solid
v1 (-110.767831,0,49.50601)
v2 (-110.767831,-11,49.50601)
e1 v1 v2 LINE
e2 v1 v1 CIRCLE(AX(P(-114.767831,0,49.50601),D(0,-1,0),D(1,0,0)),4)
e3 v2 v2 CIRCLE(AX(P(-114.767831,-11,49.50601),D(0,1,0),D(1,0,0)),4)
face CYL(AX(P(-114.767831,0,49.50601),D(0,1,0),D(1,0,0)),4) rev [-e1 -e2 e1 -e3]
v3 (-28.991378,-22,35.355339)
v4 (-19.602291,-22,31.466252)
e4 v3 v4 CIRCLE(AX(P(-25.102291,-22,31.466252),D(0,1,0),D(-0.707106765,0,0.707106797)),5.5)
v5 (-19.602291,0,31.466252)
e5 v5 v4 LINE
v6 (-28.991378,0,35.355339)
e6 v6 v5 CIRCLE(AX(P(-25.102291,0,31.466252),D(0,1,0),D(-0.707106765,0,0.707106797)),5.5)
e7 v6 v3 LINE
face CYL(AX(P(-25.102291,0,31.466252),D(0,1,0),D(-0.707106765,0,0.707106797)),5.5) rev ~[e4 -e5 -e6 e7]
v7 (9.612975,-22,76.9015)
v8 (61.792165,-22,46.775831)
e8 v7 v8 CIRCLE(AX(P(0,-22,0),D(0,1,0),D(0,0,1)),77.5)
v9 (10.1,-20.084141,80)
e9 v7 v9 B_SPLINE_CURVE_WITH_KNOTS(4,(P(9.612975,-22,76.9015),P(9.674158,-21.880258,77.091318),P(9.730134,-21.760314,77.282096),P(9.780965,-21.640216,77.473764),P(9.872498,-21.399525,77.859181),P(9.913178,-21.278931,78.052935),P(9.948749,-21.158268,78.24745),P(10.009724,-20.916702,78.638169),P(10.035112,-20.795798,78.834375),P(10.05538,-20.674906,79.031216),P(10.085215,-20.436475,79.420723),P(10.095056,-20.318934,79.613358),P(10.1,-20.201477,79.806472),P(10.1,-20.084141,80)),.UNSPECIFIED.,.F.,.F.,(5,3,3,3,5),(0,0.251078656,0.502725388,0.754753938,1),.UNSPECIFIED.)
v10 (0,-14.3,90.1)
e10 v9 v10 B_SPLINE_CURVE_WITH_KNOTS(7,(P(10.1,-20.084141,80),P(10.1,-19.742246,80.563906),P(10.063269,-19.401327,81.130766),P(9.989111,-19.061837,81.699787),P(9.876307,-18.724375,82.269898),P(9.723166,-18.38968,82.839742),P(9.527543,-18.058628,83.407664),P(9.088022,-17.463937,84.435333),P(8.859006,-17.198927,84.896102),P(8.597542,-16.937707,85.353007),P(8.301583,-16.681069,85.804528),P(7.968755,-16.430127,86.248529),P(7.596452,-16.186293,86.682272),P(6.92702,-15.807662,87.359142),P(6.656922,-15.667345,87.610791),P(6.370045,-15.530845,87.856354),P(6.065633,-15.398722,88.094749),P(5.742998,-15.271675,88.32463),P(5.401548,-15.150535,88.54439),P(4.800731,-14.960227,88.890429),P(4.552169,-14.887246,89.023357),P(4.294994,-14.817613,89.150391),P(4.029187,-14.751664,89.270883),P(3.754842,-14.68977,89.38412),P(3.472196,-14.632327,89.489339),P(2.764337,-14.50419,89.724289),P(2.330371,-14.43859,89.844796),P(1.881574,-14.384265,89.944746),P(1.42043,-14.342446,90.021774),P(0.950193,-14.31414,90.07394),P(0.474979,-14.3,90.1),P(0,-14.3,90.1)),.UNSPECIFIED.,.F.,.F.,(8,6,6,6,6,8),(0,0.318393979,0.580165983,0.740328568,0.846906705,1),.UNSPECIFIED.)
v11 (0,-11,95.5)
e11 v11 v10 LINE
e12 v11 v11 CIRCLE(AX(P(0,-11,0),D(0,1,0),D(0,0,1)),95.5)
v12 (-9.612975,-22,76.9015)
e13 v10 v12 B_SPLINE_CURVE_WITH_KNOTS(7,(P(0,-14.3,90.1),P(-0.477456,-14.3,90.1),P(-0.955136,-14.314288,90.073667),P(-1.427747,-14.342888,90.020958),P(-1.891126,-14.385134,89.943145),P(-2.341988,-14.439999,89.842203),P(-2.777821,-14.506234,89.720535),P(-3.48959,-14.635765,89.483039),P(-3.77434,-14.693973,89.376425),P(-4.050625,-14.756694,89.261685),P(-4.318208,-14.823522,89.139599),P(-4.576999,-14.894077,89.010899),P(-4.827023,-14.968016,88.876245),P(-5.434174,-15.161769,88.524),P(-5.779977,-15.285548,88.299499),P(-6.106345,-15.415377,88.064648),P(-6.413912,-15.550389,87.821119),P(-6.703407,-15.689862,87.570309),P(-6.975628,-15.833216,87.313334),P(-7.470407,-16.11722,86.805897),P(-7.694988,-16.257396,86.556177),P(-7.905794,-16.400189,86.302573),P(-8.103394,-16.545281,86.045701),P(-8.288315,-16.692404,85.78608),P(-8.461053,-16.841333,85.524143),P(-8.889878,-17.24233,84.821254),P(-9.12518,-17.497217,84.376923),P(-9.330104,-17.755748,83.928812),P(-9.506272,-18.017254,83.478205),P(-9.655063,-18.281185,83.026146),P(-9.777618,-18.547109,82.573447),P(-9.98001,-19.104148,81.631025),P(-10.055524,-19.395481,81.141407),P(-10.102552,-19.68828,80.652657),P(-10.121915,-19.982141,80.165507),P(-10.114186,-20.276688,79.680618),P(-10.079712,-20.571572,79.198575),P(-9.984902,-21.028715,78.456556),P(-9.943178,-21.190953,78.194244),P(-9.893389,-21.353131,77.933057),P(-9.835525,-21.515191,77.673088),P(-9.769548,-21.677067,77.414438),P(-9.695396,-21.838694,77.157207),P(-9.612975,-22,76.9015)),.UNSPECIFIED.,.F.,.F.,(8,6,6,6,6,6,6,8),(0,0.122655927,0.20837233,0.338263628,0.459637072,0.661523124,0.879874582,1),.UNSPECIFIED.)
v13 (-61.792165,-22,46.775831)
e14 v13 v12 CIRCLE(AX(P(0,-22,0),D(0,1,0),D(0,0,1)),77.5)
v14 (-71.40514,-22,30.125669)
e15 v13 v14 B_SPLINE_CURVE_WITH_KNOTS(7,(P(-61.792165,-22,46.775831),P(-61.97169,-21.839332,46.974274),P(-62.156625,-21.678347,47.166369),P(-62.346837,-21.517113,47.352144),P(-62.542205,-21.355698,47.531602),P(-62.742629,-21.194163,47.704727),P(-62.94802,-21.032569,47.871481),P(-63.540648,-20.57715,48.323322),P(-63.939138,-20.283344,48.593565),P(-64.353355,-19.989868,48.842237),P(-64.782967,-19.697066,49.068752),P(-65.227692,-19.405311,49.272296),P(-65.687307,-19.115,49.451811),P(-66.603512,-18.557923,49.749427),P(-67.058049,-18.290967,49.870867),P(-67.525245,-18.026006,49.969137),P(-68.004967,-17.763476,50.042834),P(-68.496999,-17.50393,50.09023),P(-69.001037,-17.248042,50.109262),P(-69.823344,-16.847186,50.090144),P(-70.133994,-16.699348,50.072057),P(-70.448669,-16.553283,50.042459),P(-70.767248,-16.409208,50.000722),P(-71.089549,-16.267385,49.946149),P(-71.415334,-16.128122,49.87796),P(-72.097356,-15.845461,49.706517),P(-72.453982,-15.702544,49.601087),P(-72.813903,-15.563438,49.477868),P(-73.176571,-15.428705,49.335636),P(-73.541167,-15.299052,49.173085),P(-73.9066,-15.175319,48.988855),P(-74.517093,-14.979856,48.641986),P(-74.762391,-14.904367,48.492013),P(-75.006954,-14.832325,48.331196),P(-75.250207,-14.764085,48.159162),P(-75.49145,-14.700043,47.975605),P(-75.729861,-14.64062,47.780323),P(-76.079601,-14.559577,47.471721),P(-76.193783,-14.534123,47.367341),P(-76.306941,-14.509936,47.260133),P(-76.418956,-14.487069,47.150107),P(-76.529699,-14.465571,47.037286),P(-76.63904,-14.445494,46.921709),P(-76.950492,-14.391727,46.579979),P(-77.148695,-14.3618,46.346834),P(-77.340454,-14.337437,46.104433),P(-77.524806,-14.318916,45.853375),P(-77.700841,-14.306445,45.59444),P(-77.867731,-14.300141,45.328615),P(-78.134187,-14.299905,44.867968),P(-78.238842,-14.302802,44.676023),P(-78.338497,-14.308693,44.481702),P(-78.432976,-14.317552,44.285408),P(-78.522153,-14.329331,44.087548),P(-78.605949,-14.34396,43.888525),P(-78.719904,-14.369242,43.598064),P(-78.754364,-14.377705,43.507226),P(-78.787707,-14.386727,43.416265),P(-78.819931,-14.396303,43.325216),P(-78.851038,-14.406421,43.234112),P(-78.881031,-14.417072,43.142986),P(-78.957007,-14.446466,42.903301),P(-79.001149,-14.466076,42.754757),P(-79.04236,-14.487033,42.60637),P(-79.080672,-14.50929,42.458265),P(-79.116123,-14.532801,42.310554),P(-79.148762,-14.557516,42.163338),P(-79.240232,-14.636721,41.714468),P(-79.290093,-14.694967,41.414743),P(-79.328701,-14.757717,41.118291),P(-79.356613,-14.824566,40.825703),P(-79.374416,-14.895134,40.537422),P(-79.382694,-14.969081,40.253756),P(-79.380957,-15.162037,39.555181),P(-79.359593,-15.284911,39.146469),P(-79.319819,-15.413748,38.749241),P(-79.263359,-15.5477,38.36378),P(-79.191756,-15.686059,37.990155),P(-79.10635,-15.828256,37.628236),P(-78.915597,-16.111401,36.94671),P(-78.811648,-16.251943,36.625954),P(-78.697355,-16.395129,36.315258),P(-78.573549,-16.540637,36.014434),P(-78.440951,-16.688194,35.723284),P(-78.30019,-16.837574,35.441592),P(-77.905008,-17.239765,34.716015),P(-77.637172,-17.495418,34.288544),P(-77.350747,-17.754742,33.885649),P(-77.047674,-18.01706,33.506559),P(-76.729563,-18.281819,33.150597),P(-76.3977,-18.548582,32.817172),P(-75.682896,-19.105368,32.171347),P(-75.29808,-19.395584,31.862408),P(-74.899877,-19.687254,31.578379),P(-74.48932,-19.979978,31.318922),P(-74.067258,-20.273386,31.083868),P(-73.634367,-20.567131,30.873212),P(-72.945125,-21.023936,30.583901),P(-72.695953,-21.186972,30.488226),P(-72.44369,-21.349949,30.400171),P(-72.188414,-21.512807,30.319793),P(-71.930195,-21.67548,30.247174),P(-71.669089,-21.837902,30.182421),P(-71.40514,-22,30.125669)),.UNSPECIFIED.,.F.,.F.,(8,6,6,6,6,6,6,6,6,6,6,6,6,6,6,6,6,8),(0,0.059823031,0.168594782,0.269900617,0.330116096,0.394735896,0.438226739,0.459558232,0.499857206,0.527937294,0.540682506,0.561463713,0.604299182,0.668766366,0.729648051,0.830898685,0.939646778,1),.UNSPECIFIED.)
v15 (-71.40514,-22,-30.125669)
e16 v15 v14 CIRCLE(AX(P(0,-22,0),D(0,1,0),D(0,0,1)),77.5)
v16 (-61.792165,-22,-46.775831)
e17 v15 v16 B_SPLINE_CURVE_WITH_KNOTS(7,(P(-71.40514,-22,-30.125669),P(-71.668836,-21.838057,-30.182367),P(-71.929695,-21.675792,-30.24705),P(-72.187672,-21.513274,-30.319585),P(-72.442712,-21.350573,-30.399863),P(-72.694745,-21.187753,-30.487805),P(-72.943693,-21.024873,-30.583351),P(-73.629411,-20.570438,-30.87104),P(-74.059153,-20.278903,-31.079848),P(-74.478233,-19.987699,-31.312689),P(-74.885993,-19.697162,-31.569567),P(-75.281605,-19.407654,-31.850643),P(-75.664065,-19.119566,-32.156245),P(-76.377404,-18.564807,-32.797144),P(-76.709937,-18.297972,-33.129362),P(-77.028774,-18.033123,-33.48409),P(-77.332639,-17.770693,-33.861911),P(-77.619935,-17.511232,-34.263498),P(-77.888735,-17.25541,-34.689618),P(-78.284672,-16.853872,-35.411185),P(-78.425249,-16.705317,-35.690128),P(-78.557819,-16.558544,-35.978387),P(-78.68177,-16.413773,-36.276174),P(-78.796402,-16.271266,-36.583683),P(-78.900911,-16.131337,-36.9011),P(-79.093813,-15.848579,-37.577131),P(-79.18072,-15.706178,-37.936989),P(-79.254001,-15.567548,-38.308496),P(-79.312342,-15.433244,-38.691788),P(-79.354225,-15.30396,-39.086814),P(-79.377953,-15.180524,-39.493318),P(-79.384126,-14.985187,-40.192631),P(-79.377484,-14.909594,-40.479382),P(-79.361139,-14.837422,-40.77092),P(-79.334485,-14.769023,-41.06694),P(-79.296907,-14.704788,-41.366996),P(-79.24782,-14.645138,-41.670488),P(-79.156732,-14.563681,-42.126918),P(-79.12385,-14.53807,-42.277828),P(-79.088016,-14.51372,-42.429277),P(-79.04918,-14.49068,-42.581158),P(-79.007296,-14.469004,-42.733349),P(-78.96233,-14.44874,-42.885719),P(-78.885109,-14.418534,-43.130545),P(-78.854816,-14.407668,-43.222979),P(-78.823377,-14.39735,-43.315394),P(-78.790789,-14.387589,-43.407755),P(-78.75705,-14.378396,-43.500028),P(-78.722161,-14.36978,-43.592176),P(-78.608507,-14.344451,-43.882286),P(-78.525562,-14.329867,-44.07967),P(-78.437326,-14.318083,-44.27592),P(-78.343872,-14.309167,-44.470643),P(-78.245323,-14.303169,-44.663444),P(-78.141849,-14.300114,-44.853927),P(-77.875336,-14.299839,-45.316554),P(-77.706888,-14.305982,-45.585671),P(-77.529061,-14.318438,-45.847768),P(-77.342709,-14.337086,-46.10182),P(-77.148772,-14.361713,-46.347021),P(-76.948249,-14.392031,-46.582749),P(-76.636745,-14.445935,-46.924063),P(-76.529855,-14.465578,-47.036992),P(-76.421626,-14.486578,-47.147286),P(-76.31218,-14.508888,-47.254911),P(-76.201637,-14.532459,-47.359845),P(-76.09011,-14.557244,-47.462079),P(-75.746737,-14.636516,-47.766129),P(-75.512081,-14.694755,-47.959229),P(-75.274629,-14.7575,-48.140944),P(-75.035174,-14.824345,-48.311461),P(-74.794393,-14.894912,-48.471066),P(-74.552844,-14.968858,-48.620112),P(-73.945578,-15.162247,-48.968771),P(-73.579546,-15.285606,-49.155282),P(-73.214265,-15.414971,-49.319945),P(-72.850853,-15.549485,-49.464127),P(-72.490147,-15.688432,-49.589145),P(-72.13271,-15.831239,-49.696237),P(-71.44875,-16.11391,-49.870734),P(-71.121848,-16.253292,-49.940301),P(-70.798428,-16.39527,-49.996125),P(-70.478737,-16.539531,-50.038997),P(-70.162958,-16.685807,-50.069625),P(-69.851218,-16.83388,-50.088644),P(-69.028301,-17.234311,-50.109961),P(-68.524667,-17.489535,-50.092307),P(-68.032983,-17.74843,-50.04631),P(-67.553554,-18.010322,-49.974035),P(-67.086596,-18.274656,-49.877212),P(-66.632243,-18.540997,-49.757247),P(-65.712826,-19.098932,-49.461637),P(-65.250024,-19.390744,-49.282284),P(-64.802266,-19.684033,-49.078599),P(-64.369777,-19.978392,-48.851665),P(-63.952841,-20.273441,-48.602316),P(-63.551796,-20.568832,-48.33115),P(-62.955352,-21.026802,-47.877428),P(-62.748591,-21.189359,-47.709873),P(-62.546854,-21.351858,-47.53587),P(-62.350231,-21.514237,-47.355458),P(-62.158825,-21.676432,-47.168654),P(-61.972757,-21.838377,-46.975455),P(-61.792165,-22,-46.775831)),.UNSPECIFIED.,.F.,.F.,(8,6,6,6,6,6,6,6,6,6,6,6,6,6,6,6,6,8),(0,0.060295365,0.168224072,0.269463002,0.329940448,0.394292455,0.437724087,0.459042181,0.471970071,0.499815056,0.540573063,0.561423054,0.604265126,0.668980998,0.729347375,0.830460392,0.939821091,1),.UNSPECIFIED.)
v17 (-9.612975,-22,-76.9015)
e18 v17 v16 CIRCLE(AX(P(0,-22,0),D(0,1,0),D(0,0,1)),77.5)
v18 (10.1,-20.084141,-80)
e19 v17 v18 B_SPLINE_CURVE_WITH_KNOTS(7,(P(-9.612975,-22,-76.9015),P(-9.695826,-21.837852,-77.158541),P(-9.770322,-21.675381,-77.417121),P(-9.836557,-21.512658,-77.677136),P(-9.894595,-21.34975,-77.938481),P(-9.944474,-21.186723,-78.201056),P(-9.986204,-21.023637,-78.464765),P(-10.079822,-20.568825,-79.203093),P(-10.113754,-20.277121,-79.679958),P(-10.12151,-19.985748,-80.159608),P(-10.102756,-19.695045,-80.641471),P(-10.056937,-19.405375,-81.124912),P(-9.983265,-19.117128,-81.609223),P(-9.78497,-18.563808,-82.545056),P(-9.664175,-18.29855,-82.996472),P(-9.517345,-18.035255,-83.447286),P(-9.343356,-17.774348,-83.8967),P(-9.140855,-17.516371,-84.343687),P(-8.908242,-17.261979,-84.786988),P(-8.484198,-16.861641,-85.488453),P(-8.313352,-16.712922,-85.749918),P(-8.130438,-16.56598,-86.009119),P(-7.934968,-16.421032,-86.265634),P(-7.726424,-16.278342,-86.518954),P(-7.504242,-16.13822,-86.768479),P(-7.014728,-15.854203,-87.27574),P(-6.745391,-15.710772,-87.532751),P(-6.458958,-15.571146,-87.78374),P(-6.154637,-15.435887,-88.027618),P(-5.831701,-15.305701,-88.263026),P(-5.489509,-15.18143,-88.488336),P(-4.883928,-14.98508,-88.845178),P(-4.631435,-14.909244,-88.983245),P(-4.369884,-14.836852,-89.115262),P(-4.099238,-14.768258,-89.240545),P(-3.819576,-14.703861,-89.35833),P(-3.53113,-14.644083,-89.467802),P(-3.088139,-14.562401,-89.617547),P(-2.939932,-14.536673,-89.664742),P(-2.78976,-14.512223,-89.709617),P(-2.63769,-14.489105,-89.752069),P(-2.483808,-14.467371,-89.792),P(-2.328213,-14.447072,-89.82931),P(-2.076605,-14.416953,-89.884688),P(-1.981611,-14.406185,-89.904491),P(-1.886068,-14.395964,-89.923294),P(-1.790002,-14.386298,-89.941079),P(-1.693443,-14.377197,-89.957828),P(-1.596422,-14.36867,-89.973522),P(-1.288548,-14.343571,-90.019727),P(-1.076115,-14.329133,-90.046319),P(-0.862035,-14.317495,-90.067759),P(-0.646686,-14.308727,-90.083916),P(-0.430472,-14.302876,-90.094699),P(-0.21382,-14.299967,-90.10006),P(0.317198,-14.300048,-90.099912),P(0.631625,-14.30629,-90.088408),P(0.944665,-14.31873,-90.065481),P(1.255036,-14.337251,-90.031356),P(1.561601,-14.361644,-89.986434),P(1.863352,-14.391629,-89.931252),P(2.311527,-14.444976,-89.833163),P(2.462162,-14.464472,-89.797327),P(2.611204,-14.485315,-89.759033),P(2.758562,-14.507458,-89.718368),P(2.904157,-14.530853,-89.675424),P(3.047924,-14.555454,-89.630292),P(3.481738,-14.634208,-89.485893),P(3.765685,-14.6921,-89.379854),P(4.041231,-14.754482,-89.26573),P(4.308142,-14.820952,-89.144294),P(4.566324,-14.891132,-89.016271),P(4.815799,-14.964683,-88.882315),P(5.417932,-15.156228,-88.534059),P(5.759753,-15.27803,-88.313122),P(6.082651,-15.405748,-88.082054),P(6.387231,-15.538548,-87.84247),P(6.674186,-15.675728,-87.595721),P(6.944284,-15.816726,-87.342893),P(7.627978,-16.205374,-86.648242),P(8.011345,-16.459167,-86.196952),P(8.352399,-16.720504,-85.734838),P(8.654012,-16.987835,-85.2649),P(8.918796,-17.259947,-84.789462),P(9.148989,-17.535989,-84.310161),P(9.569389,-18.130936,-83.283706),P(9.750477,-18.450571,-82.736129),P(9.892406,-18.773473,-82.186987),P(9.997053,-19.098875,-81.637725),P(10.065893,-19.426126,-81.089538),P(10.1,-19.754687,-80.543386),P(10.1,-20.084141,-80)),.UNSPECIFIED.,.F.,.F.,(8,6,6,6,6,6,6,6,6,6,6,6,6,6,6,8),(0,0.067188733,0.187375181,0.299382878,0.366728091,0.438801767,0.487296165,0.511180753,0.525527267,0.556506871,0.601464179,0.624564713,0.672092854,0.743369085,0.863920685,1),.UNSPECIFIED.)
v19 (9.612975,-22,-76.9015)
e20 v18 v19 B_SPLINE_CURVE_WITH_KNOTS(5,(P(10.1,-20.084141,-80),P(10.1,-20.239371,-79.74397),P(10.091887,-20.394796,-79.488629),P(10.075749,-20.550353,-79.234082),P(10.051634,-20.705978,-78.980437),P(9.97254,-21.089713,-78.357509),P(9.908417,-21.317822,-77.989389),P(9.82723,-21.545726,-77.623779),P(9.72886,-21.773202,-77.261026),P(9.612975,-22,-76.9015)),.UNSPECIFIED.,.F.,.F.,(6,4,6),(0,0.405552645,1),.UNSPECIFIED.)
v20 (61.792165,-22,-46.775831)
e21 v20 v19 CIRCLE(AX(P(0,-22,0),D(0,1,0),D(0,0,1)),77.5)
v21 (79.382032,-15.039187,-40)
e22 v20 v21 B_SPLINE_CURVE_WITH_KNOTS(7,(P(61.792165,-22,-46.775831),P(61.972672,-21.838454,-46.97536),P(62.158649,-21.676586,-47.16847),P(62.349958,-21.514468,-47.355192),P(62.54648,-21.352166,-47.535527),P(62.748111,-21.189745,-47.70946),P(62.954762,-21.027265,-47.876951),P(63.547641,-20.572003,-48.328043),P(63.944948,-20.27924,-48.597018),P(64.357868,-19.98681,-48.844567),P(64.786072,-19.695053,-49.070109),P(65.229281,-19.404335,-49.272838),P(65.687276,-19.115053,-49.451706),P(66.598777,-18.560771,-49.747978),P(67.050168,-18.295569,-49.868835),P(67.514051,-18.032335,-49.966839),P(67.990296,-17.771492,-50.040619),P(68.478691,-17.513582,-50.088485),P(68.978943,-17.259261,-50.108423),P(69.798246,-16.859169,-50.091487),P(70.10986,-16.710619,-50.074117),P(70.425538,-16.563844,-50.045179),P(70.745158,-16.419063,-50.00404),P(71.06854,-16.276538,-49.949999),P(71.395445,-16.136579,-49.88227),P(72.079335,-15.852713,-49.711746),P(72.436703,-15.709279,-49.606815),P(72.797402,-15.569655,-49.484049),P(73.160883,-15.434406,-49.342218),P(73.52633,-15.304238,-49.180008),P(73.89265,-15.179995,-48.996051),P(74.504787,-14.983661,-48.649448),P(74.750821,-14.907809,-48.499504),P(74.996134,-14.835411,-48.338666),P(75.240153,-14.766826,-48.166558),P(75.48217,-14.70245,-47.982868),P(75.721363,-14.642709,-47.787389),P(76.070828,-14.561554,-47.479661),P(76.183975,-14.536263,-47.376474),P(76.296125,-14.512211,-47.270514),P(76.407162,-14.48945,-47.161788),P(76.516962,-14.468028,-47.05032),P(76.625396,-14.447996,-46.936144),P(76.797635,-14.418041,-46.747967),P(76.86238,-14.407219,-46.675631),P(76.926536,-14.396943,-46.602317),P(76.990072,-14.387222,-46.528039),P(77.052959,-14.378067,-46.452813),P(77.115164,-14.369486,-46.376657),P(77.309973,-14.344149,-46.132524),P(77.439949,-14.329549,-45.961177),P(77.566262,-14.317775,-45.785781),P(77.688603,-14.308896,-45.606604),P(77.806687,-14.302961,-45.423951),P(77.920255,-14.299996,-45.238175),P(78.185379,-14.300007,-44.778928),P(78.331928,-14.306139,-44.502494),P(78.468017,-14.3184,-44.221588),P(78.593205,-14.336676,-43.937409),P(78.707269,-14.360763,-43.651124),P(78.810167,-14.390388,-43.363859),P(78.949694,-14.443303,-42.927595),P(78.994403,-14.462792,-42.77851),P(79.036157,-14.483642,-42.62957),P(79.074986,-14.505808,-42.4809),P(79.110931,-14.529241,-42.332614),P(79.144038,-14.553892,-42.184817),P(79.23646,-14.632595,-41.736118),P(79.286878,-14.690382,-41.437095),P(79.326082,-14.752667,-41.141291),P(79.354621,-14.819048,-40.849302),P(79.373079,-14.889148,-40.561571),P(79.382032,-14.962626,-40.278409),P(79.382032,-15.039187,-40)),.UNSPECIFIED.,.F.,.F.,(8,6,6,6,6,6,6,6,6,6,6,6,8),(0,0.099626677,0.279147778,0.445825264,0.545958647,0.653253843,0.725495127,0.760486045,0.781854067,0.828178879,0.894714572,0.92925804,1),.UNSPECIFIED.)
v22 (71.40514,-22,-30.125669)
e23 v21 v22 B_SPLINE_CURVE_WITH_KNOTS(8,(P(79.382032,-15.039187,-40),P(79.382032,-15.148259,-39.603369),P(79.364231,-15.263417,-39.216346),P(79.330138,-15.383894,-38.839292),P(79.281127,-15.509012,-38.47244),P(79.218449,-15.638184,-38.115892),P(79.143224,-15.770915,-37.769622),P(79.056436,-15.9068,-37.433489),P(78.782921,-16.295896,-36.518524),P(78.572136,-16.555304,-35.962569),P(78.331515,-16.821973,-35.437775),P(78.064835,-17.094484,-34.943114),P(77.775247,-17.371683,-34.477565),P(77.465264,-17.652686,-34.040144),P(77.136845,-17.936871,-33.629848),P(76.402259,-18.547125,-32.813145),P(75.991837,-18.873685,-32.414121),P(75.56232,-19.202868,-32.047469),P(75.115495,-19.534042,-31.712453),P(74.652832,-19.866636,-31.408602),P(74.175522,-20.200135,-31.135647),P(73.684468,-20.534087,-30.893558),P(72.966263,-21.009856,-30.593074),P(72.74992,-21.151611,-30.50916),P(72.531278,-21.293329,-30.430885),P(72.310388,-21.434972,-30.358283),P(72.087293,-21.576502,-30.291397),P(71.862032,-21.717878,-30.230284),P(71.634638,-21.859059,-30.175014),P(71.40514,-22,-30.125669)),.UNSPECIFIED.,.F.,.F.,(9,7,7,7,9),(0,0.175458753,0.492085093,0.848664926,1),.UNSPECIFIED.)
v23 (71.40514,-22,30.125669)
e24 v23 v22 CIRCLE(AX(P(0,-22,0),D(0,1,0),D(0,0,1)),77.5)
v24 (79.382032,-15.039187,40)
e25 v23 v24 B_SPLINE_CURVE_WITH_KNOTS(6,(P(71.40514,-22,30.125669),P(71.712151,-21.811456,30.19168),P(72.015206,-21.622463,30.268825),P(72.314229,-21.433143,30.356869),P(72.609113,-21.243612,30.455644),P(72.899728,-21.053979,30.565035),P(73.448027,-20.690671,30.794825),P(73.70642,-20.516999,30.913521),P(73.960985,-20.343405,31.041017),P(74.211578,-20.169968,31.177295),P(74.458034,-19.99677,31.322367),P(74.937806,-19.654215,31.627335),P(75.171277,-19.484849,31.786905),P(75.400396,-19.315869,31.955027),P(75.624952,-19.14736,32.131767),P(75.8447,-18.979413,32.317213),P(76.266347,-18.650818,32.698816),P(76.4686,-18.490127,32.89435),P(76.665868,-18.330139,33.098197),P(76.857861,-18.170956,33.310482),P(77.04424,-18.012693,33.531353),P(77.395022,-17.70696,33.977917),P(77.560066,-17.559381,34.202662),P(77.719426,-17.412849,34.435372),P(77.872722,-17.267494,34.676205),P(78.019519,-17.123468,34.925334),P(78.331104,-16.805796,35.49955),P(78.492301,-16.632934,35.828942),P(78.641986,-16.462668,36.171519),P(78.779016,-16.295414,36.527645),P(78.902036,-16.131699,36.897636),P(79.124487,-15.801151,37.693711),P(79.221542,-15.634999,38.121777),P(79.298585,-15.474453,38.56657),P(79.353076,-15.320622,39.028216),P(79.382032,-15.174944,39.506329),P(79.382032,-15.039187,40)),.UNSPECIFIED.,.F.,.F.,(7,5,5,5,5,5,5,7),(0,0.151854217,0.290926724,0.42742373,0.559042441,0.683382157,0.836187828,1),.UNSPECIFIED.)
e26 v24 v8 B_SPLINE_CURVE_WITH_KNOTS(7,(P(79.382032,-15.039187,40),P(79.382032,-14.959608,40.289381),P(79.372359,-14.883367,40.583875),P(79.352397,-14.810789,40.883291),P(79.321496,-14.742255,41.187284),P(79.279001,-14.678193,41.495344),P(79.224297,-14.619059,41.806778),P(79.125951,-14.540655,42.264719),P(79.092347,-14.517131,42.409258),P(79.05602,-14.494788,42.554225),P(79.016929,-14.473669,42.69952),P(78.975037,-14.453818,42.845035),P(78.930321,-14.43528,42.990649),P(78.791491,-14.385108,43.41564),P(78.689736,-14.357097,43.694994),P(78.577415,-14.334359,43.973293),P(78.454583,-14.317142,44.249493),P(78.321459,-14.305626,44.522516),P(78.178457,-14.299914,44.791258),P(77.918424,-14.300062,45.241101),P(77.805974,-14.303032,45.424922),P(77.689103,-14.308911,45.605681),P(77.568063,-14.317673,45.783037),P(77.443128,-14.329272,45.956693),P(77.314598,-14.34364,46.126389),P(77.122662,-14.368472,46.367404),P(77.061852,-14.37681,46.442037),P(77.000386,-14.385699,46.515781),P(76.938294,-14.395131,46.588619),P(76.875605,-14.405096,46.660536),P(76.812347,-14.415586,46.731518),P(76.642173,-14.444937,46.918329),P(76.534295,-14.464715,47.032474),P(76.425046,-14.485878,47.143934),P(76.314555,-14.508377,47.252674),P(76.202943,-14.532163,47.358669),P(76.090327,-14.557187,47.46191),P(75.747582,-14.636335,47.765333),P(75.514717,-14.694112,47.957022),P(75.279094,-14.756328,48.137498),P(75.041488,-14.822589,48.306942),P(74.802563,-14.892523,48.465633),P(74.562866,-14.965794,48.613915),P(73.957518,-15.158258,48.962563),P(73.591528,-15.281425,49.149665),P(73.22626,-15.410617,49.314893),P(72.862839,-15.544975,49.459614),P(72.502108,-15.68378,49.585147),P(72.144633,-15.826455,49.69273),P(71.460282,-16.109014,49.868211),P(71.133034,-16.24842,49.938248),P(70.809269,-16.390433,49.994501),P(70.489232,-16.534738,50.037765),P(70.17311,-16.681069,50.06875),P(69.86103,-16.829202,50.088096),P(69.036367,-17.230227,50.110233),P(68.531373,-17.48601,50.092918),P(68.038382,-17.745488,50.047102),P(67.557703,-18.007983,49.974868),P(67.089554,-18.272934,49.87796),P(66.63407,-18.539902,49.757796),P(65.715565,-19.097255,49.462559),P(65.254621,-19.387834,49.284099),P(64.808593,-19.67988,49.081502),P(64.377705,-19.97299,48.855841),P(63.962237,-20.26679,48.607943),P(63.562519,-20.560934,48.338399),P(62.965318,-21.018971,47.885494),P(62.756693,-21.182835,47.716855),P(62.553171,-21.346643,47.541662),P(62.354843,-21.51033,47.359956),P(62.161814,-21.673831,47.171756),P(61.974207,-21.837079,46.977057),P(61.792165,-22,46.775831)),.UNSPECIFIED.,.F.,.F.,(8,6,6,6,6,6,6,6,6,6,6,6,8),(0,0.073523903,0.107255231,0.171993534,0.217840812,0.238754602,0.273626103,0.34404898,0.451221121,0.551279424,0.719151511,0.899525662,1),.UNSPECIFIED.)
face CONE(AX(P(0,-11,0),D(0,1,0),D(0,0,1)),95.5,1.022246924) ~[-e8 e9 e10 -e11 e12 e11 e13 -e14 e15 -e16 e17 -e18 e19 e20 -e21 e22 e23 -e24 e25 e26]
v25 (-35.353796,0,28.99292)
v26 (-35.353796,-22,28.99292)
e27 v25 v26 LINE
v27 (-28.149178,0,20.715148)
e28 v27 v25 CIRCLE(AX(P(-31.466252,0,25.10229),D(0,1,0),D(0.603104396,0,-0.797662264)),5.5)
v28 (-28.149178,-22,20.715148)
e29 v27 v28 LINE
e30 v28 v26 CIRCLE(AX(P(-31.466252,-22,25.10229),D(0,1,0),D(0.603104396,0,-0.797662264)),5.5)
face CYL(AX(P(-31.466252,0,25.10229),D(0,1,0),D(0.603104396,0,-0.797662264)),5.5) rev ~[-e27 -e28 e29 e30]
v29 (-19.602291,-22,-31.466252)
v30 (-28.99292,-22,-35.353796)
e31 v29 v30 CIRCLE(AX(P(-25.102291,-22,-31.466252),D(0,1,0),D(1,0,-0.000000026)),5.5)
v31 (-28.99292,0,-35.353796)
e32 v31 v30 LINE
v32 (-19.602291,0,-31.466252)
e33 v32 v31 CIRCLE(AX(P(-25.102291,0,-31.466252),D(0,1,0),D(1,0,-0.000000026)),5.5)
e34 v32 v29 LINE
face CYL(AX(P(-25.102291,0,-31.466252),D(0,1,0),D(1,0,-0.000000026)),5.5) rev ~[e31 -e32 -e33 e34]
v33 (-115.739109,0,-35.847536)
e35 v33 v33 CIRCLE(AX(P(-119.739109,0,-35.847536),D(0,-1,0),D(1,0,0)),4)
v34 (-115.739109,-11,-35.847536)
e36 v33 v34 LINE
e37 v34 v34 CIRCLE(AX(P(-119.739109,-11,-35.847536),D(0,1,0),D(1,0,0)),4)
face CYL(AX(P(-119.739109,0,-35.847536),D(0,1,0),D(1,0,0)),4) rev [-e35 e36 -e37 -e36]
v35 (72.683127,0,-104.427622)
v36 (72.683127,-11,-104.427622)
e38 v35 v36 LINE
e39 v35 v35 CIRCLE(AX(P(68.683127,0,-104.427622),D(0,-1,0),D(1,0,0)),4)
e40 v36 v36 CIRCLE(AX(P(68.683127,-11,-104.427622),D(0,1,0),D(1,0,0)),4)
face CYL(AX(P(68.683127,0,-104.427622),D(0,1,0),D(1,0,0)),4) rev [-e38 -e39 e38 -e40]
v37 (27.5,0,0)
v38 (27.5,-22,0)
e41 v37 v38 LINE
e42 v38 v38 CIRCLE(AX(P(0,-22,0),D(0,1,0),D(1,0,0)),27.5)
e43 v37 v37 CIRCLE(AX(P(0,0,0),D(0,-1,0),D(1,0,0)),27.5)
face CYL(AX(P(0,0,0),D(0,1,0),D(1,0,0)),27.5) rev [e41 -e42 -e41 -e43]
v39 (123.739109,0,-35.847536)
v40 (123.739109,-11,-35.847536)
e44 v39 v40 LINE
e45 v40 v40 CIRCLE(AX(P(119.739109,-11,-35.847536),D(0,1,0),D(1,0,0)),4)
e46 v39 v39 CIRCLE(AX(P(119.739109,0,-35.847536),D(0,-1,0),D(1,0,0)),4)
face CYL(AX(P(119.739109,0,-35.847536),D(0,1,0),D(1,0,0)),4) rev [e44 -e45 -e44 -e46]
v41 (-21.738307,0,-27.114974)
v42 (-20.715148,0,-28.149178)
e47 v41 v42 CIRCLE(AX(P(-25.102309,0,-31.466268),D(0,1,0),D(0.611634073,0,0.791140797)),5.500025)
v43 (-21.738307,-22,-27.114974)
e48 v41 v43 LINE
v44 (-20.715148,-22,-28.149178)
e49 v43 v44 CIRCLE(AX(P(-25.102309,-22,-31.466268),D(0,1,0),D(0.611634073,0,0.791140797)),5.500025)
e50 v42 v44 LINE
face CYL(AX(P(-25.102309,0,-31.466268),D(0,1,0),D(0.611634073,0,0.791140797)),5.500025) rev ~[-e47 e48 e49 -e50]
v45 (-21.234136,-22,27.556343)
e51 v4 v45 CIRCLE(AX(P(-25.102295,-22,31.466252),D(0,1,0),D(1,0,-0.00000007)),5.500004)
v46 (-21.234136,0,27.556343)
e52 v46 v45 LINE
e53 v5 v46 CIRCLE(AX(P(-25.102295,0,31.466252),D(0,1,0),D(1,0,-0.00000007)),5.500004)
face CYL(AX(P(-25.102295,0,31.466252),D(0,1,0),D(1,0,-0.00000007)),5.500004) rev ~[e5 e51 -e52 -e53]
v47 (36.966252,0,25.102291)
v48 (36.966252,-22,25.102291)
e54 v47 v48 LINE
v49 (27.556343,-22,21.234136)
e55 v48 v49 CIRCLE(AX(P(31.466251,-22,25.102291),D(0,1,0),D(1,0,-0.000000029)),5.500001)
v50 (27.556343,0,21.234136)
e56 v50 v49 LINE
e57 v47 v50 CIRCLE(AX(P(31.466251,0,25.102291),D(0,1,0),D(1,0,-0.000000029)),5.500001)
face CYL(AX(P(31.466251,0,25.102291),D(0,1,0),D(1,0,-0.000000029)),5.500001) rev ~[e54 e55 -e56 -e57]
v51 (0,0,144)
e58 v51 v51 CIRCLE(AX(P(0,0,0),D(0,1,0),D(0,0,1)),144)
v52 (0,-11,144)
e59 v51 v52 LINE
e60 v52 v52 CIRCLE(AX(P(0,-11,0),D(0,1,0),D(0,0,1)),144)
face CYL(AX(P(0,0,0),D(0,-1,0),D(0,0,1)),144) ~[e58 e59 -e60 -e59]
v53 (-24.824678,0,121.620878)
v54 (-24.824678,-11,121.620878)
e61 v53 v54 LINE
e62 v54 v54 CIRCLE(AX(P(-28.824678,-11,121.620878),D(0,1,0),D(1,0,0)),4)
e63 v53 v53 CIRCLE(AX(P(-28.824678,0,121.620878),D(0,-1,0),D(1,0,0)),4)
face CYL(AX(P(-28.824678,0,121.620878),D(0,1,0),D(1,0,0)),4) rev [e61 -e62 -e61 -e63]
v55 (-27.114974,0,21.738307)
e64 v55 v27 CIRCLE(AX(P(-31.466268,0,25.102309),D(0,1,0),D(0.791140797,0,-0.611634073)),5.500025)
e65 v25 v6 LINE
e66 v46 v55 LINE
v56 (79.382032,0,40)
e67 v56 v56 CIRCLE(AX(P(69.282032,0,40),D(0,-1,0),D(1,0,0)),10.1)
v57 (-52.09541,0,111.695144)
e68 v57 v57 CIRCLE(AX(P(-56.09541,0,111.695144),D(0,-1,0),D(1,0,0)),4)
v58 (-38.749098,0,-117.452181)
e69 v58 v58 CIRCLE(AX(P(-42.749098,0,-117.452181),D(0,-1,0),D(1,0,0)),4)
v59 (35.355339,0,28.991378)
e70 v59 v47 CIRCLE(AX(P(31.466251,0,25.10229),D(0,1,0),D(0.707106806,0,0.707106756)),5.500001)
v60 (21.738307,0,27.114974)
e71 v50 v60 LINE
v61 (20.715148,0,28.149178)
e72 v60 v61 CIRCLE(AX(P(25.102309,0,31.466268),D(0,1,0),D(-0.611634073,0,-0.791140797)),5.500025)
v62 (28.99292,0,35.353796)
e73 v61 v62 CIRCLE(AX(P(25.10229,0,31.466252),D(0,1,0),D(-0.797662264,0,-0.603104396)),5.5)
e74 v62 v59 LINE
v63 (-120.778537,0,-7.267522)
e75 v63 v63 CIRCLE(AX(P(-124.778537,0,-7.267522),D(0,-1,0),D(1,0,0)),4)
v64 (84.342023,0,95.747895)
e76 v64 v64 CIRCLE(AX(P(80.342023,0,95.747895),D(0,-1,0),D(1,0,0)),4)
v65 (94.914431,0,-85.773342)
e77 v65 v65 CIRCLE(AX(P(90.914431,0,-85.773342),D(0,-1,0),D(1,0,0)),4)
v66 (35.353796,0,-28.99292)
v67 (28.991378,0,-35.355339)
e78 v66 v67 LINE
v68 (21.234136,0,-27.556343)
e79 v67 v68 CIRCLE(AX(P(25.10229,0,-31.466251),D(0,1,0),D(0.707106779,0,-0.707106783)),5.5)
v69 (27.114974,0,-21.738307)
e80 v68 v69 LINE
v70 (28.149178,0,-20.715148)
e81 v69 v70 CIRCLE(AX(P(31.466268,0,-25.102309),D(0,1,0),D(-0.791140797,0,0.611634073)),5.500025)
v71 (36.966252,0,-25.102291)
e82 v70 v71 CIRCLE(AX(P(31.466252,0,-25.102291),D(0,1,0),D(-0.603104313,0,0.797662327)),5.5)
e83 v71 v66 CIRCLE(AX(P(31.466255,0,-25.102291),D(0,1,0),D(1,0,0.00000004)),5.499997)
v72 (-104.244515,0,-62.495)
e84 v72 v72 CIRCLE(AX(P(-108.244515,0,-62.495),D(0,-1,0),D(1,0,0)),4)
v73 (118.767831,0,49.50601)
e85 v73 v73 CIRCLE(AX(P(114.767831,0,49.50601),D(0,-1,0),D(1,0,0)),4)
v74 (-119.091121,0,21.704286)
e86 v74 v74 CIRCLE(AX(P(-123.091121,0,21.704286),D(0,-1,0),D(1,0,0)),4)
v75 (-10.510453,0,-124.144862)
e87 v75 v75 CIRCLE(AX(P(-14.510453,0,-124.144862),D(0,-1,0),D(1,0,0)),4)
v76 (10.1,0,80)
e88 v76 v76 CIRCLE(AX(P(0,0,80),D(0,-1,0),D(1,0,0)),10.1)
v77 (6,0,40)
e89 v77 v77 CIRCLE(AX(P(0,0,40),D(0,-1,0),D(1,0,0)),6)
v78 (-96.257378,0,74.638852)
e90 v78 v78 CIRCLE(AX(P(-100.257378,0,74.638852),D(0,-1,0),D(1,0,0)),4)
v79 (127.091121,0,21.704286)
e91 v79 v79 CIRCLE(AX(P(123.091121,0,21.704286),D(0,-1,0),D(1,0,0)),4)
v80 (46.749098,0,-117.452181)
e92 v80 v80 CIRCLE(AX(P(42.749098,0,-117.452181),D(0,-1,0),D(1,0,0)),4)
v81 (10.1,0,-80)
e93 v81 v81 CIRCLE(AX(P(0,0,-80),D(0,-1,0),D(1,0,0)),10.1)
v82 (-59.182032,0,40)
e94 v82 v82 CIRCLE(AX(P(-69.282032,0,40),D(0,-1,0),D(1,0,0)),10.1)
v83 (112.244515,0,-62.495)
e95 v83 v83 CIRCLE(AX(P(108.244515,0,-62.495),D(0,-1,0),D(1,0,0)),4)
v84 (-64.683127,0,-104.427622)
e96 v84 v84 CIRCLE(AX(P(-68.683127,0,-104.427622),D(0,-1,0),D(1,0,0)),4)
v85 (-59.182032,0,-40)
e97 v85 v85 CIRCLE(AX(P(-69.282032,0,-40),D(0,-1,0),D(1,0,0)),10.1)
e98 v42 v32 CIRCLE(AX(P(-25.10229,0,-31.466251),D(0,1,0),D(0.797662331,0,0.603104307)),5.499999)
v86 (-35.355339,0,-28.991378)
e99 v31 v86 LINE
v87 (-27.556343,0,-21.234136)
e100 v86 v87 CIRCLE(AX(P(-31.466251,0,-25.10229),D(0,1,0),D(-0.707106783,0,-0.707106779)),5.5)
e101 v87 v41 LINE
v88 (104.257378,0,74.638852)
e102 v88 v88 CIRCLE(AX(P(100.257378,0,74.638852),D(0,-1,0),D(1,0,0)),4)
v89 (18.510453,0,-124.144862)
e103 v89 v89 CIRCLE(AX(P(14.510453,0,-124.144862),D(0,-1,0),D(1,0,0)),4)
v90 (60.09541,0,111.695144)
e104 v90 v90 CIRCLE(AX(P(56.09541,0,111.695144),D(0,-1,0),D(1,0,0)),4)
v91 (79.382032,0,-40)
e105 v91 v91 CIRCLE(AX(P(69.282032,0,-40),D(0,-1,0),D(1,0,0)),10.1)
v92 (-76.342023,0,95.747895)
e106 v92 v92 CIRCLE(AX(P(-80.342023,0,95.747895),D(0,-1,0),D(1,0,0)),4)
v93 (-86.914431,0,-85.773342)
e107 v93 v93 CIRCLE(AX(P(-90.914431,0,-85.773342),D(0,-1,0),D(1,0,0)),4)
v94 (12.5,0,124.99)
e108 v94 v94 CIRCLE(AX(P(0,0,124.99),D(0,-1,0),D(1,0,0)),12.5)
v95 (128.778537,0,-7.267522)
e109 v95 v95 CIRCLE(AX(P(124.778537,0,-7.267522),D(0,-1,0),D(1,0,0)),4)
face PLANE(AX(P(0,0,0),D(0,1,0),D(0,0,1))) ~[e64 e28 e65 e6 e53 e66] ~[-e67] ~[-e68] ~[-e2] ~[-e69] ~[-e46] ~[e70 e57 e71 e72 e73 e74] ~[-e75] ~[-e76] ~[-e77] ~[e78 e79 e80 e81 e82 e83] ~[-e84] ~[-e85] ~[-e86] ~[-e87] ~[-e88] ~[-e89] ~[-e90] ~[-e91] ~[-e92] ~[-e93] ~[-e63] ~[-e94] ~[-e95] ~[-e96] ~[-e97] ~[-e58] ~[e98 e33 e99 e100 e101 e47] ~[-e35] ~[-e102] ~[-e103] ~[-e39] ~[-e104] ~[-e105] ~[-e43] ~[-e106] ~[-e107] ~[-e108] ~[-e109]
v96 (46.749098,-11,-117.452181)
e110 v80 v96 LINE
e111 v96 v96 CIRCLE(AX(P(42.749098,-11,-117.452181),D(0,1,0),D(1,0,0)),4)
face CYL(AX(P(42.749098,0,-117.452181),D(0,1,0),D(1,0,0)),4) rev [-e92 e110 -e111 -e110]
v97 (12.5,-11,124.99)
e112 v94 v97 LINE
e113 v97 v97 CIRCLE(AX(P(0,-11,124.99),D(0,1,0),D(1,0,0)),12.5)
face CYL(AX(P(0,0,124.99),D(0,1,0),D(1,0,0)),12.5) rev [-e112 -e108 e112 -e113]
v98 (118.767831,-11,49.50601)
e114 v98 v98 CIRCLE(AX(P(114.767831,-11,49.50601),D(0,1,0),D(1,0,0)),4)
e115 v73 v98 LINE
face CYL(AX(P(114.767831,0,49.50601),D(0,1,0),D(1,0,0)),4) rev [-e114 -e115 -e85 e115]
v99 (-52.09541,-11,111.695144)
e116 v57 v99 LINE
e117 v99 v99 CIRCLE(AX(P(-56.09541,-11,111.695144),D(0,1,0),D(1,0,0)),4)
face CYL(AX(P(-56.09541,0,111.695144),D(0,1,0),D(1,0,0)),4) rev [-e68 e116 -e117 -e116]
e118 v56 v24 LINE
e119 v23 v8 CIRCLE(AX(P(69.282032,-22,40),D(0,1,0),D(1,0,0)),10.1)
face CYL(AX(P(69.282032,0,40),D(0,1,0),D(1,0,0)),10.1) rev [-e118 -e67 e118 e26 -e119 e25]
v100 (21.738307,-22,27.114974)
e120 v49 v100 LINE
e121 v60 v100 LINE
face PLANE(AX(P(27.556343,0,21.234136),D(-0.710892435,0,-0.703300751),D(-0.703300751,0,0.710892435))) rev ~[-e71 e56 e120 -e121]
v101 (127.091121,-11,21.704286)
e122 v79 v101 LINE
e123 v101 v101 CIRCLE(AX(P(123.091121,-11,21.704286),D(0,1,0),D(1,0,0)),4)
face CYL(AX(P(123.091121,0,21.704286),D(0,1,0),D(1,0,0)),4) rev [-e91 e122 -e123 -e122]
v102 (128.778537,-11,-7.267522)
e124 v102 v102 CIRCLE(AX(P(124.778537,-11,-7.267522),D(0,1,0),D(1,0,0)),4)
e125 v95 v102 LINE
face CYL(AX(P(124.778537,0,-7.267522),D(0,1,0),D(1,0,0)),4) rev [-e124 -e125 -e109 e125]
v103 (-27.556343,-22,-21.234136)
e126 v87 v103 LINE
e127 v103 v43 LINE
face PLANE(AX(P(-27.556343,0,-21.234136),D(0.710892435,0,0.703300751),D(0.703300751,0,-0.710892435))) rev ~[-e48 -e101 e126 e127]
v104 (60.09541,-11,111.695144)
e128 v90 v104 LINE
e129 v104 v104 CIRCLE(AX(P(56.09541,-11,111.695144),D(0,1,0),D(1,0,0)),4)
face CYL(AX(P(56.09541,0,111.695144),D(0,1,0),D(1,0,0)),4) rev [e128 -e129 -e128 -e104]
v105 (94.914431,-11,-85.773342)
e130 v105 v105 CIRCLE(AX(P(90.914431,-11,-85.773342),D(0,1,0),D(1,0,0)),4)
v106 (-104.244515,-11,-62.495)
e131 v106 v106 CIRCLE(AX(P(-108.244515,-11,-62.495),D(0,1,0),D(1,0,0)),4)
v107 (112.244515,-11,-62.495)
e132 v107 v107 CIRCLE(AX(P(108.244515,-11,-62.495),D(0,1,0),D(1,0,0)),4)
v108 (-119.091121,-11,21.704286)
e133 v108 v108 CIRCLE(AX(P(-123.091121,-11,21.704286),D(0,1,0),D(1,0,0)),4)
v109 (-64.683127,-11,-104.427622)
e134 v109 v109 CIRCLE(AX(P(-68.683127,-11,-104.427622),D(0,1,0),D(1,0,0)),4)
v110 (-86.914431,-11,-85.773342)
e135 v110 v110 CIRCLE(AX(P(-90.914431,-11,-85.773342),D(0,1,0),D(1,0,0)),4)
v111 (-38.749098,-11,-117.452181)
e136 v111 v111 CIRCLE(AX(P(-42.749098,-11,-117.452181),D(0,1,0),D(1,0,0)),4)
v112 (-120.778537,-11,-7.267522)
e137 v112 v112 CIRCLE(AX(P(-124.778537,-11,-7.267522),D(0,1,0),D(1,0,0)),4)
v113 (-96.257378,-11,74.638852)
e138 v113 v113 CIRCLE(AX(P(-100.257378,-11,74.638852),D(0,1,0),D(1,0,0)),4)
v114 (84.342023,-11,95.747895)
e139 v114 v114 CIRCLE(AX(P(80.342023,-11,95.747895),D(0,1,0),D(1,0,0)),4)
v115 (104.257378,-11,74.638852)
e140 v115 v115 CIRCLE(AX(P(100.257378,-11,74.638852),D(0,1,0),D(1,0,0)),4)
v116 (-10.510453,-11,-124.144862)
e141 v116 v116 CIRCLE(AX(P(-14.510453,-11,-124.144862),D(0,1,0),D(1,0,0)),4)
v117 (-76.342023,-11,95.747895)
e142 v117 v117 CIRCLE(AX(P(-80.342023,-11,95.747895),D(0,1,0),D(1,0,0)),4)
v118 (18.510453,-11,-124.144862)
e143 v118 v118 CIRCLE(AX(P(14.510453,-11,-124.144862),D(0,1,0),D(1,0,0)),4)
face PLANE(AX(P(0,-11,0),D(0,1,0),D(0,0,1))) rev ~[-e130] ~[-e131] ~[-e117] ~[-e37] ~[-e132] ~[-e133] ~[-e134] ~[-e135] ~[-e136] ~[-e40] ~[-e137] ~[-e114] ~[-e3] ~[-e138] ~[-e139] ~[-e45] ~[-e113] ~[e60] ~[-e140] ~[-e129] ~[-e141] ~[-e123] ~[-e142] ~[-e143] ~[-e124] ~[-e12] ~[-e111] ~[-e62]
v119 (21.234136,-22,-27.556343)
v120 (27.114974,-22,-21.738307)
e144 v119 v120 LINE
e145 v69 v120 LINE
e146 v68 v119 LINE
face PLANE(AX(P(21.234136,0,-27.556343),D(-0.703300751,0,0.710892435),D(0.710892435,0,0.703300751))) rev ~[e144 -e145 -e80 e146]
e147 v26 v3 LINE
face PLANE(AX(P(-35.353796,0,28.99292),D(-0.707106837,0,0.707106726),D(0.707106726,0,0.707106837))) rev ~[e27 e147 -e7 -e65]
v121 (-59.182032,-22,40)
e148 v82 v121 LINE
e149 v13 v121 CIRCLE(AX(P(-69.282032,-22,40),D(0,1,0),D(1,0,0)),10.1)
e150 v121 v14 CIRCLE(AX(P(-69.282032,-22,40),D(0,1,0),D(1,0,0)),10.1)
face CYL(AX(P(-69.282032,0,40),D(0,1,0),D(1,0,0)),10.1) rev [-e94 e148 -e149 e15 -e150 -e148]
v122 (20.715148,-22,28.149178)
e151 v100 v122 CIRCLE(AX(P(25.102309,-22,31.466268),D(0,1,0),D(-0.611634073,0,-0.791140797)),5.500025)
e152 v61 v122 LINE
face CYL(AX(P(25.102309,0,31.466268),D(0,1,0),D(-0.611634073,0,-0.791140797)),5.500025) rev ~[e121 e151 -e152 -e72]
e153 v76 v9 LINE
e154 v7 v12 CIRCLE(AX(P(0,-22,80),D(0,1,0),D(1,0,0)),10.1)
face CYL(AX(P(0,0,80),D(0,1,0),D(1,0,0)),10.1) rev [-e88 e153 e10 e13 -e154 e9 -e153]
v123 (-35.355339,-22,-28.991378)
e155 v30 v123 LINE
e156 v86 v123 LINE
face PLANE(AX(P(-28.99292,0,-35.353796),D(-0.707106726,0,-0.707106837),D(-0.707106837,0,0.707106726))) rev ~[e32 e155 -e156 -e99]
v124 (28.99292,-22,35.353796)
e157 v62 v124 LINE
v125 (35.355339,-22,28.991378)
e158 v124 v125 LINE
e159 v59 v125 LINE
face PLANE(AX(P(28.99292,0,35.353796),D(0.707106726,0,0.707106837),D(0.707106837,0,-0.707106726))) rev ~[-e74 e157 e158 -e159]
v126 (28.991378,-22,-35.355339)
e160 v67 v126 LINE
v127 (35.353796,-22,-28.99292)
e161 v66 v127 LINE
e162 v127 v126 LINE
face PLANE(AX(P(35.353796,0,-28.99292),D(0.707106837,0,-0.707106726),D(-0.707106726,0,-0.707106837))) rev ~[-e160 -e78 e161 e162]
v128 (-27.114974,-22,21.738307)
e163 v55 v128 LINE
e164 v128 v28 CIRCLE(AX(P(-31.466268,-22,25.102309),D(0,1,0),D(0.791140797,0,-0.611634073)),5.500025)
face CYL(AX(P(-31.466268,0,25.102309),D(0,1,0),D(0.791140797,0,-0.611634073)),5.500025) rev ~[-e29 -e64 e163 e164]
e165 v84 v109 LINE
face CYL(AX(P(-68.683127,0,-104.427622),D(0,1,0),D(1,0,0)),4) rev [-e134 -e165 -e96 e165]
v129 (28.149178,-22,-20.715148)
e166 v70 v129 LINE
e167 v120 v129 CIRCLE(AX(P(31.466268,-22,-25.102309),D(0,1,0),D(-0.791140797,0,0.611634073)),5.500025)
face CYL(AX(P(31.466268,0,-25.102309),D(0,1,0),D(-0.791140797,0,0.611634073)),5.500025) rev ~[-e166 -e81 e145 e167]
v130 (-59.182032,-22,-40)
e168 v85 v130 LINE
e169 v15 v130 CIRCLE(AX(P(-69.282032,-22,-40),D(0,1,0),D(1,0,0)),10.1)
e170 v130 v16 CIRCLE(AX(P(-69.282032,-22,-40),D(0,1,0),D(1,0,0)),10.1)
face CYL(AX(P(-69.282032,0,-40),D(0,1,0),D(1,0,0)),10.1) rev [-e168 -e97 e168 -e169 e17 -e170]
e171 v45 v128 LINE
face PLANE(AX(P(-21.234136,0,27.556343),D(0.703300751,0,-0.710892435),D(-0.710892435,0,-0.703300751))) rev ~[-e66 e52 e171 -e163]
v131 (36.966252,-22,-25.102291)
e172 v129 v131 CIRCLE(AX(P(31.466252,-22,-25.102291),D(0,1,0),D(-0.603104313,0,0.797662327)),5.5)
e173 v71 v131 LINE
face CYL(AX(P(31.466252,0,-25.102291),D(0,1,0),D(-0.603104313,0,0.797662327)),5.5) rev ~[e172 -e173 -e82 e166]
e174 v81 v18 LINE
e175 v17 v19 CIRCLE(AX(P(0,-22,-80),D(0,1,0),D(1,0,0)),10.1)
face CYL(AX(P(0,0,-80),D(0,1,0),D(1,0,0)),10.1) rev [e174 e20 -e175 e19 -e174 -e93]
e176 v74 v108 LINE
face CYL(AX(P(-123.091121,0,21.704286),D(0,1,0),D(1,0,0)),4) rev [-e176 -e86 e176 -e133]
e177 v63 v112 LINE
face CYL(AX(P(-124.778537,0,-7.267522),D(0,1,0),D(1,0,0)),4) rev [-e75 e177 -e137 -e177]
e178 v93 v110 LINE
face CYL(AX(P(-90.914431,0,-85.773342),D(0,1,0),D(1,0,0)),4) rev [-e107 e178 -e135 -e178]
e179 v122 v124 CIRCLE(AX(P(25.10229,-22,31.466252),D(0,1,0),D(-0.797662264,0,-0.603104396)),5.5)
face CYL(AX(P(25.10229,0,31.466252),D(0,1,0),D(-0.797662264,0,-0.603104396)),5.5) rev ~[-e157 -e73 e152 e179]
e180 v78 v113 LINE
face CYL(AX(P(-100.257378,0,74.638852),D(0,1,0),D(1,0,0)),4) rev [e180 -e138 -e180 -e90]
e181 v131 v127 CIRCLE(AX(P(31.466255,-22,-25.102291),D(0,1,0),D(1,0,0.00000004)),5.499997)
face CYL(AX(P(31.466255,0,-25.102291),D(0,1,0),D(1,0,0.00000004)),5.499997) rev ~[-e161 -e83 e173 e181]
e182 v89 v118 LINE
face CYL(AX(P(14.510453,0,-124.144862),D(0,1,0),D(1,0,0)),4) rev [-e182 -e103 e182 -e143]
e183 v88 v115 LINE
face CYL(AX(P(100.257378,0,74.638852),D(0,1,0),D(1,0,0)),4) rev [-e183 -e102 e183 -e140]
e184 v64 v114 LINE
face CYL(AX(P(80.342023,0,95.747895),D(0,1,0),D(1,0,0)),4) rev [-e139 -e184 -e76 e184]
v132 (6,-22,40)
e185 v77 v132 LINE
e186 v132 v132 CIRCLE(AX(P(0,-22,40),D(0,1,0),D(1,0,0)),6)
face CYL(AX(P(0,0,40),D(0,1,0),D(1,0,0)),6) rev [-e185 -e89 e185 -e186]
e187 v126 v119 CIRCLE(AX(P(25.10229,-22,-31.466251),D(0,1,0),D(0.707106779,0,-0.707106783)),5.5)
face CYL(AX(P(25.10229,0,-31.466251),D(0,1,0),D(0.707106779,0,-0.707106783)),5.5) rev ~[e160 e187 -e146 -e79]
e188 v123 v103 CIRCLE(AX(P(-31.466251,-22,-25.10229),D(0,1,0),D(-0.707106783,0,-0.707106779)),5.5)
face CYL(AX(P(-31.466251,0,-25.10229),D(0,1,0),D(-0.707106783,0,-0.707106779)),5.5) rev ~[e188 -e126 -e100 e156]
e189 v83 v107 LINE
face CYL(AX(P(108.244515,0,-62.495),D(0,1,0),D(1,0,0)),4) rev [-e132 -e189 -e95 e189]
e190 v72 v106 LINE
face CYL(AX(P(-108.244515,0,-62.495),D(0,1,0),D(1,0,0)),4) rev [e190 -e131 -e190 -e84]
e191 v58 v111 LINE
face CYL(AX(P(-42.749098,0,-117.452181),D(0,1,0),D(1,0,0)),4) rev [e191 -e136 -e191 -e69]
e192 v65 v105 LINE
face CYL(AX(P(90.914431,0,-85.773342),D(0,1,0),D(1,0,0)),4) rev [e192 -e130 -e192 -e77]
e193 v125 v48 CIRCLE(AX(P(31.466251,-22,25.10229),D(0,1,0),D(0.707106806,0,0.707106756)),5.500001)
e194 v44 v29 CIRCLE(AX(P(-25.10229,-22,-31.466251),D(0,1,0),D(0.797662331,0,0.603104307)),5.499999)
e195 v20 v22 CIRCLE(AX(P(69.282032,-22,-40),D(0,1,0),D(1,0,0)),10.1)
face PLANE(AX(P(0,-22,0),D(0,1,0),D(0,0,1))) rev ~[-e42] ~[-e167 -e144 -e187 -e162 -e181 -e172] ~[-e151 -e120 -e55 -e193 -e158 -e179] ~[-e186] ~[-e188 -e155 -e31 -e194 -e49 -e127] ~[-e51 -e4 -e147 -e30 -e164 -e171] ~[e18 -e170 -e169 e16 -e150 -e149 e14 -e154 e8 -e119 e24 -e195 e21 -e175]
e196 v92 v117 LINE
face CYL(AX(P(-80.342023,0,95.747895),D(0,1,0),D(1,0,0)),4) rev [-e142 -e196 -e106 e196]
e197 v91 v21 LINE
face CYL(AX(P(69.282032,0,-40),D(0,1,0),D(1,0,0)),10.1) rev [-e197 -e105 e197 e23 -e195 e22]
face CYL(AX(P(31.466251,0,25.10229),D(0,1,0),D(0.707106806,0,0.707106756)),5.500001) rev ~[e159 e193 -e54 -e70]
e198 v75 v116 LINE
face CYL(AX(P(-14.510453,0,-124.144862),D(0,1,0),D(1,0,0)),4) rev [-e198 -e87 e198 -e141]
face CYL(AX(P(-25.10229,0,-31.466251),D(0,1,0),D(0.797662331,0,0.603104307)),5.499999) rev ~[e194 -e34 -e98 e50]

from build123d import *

# Parameters (mm, degrees)
F0_R     = 144
F0_R_2   = 4
F0_R_3   = 10.1
F0_R_4   = 27.5
F0_R_5   = 6
F0_R_6   = 12.5
F3_DEPTH = 25


with BuildPart() as f2:
    # F1 (on Right) → F2 (revolve)
    with BuildSketch(Plane.YZ):
        Polygon((-22, 0), (0, 0), (0, 144), (-11, 144), (-11, 95.5), (-22, 77.5), align=None)
    revolve(axis=Axis((0, -11, 0), (0, 1, 0)))

    # F0 (on Front) → F3 (intersect)
    with BuildSketch(Plane.XZ):
        Circle(F0_R)
        with Locations((-90.914431, -85.773342)):
            Circle(F0_R_2, mode=Mode.SUBTRACT)
        with Locations((-42.749098, -117.452181)):
            Circle(F0_R_2, mode=Mode.SUBTRACT)
        with Locations((-14.510453, -124.144862)):
            Circle(F0_R_2, mode=Mode.SUBTRACT)
        with Locations((-68.683127, -104.427622)):
            Circle(F0_R_2, mode=Mode.SUBTRACT)
        with Locations((-108.244515, -62.495)):
            Circle(F0_R_2, mode=Mode.SUBTRACT)
        with Locations((-119.739109, -35.847536)):
            Circle(F0_R_2, mode=Mode.SUBTRACT)
        with Locations((-124.778537, -7.267522)):
            Circle(F0_R_2, mode=Mode.SUBTRACT)
        with Locations((-69.282032, -40)):
            Circle(F0_R_3, mode=Mode.SUBTRACT)
        with BuildLine():
            ThreePointArc((-35.355339, -28.991378), (-35.344887, -21.202779), (-27.556343, -21.234136))
            Line((-27.556343, -21.234136), (-21.738307, -27.114974))
            ThreePointArc((-21.738307, -27.114974), (-21.192382, -27.598098), (-20.715148, -28.149178))
            ThreePointArc((-20.715148, -28.149178), (-19.887922, -29.716864), (-19.602291, -31.466252))
            ThreePointArc((-19.602291, -31.466252), (-22.998539, -36.548006), (-28.99292, -35.353796))
            Line((-28.99292, -35.353796), (-35.355339, -28.991378))
        make_face(mode=Mode.SUBTRACT)
        with Locations((14.510453, -124.144862)):
            Circle(F0_R_2, mode=Mode.SUBTRACT)
        with Locations((42.749098, -117.452181)):
            Circle(F0_R_2, mode=Mode.SUBTRACT)
        with Locations((0, -80)):
            Circle(F0_R_3, mode=Mode.SUBTRACT)
        with Locations((68.683127, -104.427622)):
            Circle(F0_R_2, mode=Mode.SUBTRACT)
        with Locations((90.914431, -85.773342)):
            Circle(F0_R_2, mode=Mode.SUBTRACT)
        with Locations((69.282032, -40)):
            Circle(F0_R_3, mode=Mode.SUBTRACT)
        with BuildLine():
            ThreePointArc((28.991378, -35.355339), (21.202779, -35.344887), (21.234136, -27.556343))
            Line((21.234136, -27.556343), (27.114974, -21.738307))
            ThreePointArc((27.114974, -21.738307), (27.598098, -21.192382), (28.149178, -20.715148))
            ThreePointArc((28.149178, -20.715148), (33.916363, -20.178171), (36.966252, -25.102291))
            ThreePointArc((36.966252, -25.102291), (36.547172, -27.208057), (35.353796, -28.99292))
            Line((35.353796, -28.99292), (28.991378, -35.355339))
        make_face(mode=Mode.SUBTRACT)
        with Locations((108.244515, -62.495)):
            Circle(F0_R_2, mode=Mode.SUBTRACT)
        with Locations((119.739109, -35.847536)):
            Circle(F0_R_2, mode=Mode.SUBTRACT)
        with Locations((124.778537, -7.267522)):
            Circle(F0_R_2, mode=Mode.SUBTRACT)
        with Locations((-123.091121, 21.704286)):
            Circle(F0_R_2, mode=Mode.SUBTRACT)
        with Locations((-114.767831, 49.50601)):
            Circle(F0_R_2, mode=Mode.SUBTRACT)
        with BuildLine():
            ThreePointArc((-28.991378, 35.355339), (-22.997532, 36.547589), (-19.602291, 31.466252))
            ThreePointArc((-19.602291, 31.466252), (-20.026621, 29.347862), (-21.234136, 27.556343))
            Line((-21.234136, 27.556343), (-27.114974, 21.738307))
            ThreePointArc((-27.114974, 21.738307), (-27.598098, 21.192382), (-28.149178, 20.715148))
            ThreePointArc((-28.149178, 20.715148), (-35.614955, 21.491437), (-35.353796, 28.99292))
            Line((-35.353796, 28.99292), (-28.991378, 35.355339))
        make_face(mode=Mode.SUBTRACT)
        with Locations((-69.282032, 40)):
            Circle(F0_R_3, mode=Mode.SUBTRACT)
        with Locations((-100.257378, 74.638852)):
            Circle(F0_R_2, mode=Mode.SUBTRACT)
        with Locations((-80.342023, 95.747895)):
            Circle(F0_R_2, mode=Mode.SUBTRACT)
        with Locations((-56.09541, 111.695144)):
            Circle(F0_R_2, mode=Mode.SUBTRACT)
        with Locations((-28.824678, 121.620878)):
            Circle(F0_R_2, mode=Mode.SUBTRACT)
        Circle(F0_R_4, mode=Mode.SUBTRACT)
        with BuildLine():
            ThreePointArc((35.355339, 28.991378), (36.547589, 27.20705), (36.966252, 25.102291))
            ThreePointArc((36.966252, 25.102291), (33.557364, 20.015322), (27.556343, 21.234136))
            Line((27.556343, 21.234136), (21.738307, 27.114974))
            ThreePointArc((21.738307, 27.114974), (21.192382, 27.598098), (20.715148, 28.149178))
            ThreePointArc((20.715148, 28.149178), (21.491437, 35.614955), (28.99292, 35.353796))
            Line((28.99292, 35.353796), (35.355339, 28.991378))
        make_face(mode=Mode.SUBTRACT)
        with Locations((0, 40)):
            Circle(F0_R_5, mode=Mode.SUBTRACT)
        with Locations((69.282032, 40)):
            Circle(F0_R_3, mode=Mode.SUBTRACT)
        with Locations((123.091121, 21.704286)):
            Circle(F0_R_2, mode=Mode.SUBTRACT)
        with Locations((114.767831, 49.50601)):
            Circle(F0_R_2, mode=Mode.SUBTRACT)
        with Locations((0, 80)):
            Circle(F0_R_3, mode=Mode.SUBTRACT)
        with Locations((0, 124.99)):
            Circle(F0_R_6, mode=Mode.SUBTRACT)
        with Locations((56.09541, 111.695144)):
            Circle(F0_R_2, mode=Mode.SUBTRACT)
        with Locations((100.257378, 74.638852)):
            Circle(F0_R_2, mode=Mode.SUBTRACT)
        with Locations((80.342023, 95.747895)):
            Circle(F0_R_2, mode=Mode.SUBTRACT)
    extrude(amount=F3_DEPTH, mode=Mode.INTERSECT)


solid = f2.part
